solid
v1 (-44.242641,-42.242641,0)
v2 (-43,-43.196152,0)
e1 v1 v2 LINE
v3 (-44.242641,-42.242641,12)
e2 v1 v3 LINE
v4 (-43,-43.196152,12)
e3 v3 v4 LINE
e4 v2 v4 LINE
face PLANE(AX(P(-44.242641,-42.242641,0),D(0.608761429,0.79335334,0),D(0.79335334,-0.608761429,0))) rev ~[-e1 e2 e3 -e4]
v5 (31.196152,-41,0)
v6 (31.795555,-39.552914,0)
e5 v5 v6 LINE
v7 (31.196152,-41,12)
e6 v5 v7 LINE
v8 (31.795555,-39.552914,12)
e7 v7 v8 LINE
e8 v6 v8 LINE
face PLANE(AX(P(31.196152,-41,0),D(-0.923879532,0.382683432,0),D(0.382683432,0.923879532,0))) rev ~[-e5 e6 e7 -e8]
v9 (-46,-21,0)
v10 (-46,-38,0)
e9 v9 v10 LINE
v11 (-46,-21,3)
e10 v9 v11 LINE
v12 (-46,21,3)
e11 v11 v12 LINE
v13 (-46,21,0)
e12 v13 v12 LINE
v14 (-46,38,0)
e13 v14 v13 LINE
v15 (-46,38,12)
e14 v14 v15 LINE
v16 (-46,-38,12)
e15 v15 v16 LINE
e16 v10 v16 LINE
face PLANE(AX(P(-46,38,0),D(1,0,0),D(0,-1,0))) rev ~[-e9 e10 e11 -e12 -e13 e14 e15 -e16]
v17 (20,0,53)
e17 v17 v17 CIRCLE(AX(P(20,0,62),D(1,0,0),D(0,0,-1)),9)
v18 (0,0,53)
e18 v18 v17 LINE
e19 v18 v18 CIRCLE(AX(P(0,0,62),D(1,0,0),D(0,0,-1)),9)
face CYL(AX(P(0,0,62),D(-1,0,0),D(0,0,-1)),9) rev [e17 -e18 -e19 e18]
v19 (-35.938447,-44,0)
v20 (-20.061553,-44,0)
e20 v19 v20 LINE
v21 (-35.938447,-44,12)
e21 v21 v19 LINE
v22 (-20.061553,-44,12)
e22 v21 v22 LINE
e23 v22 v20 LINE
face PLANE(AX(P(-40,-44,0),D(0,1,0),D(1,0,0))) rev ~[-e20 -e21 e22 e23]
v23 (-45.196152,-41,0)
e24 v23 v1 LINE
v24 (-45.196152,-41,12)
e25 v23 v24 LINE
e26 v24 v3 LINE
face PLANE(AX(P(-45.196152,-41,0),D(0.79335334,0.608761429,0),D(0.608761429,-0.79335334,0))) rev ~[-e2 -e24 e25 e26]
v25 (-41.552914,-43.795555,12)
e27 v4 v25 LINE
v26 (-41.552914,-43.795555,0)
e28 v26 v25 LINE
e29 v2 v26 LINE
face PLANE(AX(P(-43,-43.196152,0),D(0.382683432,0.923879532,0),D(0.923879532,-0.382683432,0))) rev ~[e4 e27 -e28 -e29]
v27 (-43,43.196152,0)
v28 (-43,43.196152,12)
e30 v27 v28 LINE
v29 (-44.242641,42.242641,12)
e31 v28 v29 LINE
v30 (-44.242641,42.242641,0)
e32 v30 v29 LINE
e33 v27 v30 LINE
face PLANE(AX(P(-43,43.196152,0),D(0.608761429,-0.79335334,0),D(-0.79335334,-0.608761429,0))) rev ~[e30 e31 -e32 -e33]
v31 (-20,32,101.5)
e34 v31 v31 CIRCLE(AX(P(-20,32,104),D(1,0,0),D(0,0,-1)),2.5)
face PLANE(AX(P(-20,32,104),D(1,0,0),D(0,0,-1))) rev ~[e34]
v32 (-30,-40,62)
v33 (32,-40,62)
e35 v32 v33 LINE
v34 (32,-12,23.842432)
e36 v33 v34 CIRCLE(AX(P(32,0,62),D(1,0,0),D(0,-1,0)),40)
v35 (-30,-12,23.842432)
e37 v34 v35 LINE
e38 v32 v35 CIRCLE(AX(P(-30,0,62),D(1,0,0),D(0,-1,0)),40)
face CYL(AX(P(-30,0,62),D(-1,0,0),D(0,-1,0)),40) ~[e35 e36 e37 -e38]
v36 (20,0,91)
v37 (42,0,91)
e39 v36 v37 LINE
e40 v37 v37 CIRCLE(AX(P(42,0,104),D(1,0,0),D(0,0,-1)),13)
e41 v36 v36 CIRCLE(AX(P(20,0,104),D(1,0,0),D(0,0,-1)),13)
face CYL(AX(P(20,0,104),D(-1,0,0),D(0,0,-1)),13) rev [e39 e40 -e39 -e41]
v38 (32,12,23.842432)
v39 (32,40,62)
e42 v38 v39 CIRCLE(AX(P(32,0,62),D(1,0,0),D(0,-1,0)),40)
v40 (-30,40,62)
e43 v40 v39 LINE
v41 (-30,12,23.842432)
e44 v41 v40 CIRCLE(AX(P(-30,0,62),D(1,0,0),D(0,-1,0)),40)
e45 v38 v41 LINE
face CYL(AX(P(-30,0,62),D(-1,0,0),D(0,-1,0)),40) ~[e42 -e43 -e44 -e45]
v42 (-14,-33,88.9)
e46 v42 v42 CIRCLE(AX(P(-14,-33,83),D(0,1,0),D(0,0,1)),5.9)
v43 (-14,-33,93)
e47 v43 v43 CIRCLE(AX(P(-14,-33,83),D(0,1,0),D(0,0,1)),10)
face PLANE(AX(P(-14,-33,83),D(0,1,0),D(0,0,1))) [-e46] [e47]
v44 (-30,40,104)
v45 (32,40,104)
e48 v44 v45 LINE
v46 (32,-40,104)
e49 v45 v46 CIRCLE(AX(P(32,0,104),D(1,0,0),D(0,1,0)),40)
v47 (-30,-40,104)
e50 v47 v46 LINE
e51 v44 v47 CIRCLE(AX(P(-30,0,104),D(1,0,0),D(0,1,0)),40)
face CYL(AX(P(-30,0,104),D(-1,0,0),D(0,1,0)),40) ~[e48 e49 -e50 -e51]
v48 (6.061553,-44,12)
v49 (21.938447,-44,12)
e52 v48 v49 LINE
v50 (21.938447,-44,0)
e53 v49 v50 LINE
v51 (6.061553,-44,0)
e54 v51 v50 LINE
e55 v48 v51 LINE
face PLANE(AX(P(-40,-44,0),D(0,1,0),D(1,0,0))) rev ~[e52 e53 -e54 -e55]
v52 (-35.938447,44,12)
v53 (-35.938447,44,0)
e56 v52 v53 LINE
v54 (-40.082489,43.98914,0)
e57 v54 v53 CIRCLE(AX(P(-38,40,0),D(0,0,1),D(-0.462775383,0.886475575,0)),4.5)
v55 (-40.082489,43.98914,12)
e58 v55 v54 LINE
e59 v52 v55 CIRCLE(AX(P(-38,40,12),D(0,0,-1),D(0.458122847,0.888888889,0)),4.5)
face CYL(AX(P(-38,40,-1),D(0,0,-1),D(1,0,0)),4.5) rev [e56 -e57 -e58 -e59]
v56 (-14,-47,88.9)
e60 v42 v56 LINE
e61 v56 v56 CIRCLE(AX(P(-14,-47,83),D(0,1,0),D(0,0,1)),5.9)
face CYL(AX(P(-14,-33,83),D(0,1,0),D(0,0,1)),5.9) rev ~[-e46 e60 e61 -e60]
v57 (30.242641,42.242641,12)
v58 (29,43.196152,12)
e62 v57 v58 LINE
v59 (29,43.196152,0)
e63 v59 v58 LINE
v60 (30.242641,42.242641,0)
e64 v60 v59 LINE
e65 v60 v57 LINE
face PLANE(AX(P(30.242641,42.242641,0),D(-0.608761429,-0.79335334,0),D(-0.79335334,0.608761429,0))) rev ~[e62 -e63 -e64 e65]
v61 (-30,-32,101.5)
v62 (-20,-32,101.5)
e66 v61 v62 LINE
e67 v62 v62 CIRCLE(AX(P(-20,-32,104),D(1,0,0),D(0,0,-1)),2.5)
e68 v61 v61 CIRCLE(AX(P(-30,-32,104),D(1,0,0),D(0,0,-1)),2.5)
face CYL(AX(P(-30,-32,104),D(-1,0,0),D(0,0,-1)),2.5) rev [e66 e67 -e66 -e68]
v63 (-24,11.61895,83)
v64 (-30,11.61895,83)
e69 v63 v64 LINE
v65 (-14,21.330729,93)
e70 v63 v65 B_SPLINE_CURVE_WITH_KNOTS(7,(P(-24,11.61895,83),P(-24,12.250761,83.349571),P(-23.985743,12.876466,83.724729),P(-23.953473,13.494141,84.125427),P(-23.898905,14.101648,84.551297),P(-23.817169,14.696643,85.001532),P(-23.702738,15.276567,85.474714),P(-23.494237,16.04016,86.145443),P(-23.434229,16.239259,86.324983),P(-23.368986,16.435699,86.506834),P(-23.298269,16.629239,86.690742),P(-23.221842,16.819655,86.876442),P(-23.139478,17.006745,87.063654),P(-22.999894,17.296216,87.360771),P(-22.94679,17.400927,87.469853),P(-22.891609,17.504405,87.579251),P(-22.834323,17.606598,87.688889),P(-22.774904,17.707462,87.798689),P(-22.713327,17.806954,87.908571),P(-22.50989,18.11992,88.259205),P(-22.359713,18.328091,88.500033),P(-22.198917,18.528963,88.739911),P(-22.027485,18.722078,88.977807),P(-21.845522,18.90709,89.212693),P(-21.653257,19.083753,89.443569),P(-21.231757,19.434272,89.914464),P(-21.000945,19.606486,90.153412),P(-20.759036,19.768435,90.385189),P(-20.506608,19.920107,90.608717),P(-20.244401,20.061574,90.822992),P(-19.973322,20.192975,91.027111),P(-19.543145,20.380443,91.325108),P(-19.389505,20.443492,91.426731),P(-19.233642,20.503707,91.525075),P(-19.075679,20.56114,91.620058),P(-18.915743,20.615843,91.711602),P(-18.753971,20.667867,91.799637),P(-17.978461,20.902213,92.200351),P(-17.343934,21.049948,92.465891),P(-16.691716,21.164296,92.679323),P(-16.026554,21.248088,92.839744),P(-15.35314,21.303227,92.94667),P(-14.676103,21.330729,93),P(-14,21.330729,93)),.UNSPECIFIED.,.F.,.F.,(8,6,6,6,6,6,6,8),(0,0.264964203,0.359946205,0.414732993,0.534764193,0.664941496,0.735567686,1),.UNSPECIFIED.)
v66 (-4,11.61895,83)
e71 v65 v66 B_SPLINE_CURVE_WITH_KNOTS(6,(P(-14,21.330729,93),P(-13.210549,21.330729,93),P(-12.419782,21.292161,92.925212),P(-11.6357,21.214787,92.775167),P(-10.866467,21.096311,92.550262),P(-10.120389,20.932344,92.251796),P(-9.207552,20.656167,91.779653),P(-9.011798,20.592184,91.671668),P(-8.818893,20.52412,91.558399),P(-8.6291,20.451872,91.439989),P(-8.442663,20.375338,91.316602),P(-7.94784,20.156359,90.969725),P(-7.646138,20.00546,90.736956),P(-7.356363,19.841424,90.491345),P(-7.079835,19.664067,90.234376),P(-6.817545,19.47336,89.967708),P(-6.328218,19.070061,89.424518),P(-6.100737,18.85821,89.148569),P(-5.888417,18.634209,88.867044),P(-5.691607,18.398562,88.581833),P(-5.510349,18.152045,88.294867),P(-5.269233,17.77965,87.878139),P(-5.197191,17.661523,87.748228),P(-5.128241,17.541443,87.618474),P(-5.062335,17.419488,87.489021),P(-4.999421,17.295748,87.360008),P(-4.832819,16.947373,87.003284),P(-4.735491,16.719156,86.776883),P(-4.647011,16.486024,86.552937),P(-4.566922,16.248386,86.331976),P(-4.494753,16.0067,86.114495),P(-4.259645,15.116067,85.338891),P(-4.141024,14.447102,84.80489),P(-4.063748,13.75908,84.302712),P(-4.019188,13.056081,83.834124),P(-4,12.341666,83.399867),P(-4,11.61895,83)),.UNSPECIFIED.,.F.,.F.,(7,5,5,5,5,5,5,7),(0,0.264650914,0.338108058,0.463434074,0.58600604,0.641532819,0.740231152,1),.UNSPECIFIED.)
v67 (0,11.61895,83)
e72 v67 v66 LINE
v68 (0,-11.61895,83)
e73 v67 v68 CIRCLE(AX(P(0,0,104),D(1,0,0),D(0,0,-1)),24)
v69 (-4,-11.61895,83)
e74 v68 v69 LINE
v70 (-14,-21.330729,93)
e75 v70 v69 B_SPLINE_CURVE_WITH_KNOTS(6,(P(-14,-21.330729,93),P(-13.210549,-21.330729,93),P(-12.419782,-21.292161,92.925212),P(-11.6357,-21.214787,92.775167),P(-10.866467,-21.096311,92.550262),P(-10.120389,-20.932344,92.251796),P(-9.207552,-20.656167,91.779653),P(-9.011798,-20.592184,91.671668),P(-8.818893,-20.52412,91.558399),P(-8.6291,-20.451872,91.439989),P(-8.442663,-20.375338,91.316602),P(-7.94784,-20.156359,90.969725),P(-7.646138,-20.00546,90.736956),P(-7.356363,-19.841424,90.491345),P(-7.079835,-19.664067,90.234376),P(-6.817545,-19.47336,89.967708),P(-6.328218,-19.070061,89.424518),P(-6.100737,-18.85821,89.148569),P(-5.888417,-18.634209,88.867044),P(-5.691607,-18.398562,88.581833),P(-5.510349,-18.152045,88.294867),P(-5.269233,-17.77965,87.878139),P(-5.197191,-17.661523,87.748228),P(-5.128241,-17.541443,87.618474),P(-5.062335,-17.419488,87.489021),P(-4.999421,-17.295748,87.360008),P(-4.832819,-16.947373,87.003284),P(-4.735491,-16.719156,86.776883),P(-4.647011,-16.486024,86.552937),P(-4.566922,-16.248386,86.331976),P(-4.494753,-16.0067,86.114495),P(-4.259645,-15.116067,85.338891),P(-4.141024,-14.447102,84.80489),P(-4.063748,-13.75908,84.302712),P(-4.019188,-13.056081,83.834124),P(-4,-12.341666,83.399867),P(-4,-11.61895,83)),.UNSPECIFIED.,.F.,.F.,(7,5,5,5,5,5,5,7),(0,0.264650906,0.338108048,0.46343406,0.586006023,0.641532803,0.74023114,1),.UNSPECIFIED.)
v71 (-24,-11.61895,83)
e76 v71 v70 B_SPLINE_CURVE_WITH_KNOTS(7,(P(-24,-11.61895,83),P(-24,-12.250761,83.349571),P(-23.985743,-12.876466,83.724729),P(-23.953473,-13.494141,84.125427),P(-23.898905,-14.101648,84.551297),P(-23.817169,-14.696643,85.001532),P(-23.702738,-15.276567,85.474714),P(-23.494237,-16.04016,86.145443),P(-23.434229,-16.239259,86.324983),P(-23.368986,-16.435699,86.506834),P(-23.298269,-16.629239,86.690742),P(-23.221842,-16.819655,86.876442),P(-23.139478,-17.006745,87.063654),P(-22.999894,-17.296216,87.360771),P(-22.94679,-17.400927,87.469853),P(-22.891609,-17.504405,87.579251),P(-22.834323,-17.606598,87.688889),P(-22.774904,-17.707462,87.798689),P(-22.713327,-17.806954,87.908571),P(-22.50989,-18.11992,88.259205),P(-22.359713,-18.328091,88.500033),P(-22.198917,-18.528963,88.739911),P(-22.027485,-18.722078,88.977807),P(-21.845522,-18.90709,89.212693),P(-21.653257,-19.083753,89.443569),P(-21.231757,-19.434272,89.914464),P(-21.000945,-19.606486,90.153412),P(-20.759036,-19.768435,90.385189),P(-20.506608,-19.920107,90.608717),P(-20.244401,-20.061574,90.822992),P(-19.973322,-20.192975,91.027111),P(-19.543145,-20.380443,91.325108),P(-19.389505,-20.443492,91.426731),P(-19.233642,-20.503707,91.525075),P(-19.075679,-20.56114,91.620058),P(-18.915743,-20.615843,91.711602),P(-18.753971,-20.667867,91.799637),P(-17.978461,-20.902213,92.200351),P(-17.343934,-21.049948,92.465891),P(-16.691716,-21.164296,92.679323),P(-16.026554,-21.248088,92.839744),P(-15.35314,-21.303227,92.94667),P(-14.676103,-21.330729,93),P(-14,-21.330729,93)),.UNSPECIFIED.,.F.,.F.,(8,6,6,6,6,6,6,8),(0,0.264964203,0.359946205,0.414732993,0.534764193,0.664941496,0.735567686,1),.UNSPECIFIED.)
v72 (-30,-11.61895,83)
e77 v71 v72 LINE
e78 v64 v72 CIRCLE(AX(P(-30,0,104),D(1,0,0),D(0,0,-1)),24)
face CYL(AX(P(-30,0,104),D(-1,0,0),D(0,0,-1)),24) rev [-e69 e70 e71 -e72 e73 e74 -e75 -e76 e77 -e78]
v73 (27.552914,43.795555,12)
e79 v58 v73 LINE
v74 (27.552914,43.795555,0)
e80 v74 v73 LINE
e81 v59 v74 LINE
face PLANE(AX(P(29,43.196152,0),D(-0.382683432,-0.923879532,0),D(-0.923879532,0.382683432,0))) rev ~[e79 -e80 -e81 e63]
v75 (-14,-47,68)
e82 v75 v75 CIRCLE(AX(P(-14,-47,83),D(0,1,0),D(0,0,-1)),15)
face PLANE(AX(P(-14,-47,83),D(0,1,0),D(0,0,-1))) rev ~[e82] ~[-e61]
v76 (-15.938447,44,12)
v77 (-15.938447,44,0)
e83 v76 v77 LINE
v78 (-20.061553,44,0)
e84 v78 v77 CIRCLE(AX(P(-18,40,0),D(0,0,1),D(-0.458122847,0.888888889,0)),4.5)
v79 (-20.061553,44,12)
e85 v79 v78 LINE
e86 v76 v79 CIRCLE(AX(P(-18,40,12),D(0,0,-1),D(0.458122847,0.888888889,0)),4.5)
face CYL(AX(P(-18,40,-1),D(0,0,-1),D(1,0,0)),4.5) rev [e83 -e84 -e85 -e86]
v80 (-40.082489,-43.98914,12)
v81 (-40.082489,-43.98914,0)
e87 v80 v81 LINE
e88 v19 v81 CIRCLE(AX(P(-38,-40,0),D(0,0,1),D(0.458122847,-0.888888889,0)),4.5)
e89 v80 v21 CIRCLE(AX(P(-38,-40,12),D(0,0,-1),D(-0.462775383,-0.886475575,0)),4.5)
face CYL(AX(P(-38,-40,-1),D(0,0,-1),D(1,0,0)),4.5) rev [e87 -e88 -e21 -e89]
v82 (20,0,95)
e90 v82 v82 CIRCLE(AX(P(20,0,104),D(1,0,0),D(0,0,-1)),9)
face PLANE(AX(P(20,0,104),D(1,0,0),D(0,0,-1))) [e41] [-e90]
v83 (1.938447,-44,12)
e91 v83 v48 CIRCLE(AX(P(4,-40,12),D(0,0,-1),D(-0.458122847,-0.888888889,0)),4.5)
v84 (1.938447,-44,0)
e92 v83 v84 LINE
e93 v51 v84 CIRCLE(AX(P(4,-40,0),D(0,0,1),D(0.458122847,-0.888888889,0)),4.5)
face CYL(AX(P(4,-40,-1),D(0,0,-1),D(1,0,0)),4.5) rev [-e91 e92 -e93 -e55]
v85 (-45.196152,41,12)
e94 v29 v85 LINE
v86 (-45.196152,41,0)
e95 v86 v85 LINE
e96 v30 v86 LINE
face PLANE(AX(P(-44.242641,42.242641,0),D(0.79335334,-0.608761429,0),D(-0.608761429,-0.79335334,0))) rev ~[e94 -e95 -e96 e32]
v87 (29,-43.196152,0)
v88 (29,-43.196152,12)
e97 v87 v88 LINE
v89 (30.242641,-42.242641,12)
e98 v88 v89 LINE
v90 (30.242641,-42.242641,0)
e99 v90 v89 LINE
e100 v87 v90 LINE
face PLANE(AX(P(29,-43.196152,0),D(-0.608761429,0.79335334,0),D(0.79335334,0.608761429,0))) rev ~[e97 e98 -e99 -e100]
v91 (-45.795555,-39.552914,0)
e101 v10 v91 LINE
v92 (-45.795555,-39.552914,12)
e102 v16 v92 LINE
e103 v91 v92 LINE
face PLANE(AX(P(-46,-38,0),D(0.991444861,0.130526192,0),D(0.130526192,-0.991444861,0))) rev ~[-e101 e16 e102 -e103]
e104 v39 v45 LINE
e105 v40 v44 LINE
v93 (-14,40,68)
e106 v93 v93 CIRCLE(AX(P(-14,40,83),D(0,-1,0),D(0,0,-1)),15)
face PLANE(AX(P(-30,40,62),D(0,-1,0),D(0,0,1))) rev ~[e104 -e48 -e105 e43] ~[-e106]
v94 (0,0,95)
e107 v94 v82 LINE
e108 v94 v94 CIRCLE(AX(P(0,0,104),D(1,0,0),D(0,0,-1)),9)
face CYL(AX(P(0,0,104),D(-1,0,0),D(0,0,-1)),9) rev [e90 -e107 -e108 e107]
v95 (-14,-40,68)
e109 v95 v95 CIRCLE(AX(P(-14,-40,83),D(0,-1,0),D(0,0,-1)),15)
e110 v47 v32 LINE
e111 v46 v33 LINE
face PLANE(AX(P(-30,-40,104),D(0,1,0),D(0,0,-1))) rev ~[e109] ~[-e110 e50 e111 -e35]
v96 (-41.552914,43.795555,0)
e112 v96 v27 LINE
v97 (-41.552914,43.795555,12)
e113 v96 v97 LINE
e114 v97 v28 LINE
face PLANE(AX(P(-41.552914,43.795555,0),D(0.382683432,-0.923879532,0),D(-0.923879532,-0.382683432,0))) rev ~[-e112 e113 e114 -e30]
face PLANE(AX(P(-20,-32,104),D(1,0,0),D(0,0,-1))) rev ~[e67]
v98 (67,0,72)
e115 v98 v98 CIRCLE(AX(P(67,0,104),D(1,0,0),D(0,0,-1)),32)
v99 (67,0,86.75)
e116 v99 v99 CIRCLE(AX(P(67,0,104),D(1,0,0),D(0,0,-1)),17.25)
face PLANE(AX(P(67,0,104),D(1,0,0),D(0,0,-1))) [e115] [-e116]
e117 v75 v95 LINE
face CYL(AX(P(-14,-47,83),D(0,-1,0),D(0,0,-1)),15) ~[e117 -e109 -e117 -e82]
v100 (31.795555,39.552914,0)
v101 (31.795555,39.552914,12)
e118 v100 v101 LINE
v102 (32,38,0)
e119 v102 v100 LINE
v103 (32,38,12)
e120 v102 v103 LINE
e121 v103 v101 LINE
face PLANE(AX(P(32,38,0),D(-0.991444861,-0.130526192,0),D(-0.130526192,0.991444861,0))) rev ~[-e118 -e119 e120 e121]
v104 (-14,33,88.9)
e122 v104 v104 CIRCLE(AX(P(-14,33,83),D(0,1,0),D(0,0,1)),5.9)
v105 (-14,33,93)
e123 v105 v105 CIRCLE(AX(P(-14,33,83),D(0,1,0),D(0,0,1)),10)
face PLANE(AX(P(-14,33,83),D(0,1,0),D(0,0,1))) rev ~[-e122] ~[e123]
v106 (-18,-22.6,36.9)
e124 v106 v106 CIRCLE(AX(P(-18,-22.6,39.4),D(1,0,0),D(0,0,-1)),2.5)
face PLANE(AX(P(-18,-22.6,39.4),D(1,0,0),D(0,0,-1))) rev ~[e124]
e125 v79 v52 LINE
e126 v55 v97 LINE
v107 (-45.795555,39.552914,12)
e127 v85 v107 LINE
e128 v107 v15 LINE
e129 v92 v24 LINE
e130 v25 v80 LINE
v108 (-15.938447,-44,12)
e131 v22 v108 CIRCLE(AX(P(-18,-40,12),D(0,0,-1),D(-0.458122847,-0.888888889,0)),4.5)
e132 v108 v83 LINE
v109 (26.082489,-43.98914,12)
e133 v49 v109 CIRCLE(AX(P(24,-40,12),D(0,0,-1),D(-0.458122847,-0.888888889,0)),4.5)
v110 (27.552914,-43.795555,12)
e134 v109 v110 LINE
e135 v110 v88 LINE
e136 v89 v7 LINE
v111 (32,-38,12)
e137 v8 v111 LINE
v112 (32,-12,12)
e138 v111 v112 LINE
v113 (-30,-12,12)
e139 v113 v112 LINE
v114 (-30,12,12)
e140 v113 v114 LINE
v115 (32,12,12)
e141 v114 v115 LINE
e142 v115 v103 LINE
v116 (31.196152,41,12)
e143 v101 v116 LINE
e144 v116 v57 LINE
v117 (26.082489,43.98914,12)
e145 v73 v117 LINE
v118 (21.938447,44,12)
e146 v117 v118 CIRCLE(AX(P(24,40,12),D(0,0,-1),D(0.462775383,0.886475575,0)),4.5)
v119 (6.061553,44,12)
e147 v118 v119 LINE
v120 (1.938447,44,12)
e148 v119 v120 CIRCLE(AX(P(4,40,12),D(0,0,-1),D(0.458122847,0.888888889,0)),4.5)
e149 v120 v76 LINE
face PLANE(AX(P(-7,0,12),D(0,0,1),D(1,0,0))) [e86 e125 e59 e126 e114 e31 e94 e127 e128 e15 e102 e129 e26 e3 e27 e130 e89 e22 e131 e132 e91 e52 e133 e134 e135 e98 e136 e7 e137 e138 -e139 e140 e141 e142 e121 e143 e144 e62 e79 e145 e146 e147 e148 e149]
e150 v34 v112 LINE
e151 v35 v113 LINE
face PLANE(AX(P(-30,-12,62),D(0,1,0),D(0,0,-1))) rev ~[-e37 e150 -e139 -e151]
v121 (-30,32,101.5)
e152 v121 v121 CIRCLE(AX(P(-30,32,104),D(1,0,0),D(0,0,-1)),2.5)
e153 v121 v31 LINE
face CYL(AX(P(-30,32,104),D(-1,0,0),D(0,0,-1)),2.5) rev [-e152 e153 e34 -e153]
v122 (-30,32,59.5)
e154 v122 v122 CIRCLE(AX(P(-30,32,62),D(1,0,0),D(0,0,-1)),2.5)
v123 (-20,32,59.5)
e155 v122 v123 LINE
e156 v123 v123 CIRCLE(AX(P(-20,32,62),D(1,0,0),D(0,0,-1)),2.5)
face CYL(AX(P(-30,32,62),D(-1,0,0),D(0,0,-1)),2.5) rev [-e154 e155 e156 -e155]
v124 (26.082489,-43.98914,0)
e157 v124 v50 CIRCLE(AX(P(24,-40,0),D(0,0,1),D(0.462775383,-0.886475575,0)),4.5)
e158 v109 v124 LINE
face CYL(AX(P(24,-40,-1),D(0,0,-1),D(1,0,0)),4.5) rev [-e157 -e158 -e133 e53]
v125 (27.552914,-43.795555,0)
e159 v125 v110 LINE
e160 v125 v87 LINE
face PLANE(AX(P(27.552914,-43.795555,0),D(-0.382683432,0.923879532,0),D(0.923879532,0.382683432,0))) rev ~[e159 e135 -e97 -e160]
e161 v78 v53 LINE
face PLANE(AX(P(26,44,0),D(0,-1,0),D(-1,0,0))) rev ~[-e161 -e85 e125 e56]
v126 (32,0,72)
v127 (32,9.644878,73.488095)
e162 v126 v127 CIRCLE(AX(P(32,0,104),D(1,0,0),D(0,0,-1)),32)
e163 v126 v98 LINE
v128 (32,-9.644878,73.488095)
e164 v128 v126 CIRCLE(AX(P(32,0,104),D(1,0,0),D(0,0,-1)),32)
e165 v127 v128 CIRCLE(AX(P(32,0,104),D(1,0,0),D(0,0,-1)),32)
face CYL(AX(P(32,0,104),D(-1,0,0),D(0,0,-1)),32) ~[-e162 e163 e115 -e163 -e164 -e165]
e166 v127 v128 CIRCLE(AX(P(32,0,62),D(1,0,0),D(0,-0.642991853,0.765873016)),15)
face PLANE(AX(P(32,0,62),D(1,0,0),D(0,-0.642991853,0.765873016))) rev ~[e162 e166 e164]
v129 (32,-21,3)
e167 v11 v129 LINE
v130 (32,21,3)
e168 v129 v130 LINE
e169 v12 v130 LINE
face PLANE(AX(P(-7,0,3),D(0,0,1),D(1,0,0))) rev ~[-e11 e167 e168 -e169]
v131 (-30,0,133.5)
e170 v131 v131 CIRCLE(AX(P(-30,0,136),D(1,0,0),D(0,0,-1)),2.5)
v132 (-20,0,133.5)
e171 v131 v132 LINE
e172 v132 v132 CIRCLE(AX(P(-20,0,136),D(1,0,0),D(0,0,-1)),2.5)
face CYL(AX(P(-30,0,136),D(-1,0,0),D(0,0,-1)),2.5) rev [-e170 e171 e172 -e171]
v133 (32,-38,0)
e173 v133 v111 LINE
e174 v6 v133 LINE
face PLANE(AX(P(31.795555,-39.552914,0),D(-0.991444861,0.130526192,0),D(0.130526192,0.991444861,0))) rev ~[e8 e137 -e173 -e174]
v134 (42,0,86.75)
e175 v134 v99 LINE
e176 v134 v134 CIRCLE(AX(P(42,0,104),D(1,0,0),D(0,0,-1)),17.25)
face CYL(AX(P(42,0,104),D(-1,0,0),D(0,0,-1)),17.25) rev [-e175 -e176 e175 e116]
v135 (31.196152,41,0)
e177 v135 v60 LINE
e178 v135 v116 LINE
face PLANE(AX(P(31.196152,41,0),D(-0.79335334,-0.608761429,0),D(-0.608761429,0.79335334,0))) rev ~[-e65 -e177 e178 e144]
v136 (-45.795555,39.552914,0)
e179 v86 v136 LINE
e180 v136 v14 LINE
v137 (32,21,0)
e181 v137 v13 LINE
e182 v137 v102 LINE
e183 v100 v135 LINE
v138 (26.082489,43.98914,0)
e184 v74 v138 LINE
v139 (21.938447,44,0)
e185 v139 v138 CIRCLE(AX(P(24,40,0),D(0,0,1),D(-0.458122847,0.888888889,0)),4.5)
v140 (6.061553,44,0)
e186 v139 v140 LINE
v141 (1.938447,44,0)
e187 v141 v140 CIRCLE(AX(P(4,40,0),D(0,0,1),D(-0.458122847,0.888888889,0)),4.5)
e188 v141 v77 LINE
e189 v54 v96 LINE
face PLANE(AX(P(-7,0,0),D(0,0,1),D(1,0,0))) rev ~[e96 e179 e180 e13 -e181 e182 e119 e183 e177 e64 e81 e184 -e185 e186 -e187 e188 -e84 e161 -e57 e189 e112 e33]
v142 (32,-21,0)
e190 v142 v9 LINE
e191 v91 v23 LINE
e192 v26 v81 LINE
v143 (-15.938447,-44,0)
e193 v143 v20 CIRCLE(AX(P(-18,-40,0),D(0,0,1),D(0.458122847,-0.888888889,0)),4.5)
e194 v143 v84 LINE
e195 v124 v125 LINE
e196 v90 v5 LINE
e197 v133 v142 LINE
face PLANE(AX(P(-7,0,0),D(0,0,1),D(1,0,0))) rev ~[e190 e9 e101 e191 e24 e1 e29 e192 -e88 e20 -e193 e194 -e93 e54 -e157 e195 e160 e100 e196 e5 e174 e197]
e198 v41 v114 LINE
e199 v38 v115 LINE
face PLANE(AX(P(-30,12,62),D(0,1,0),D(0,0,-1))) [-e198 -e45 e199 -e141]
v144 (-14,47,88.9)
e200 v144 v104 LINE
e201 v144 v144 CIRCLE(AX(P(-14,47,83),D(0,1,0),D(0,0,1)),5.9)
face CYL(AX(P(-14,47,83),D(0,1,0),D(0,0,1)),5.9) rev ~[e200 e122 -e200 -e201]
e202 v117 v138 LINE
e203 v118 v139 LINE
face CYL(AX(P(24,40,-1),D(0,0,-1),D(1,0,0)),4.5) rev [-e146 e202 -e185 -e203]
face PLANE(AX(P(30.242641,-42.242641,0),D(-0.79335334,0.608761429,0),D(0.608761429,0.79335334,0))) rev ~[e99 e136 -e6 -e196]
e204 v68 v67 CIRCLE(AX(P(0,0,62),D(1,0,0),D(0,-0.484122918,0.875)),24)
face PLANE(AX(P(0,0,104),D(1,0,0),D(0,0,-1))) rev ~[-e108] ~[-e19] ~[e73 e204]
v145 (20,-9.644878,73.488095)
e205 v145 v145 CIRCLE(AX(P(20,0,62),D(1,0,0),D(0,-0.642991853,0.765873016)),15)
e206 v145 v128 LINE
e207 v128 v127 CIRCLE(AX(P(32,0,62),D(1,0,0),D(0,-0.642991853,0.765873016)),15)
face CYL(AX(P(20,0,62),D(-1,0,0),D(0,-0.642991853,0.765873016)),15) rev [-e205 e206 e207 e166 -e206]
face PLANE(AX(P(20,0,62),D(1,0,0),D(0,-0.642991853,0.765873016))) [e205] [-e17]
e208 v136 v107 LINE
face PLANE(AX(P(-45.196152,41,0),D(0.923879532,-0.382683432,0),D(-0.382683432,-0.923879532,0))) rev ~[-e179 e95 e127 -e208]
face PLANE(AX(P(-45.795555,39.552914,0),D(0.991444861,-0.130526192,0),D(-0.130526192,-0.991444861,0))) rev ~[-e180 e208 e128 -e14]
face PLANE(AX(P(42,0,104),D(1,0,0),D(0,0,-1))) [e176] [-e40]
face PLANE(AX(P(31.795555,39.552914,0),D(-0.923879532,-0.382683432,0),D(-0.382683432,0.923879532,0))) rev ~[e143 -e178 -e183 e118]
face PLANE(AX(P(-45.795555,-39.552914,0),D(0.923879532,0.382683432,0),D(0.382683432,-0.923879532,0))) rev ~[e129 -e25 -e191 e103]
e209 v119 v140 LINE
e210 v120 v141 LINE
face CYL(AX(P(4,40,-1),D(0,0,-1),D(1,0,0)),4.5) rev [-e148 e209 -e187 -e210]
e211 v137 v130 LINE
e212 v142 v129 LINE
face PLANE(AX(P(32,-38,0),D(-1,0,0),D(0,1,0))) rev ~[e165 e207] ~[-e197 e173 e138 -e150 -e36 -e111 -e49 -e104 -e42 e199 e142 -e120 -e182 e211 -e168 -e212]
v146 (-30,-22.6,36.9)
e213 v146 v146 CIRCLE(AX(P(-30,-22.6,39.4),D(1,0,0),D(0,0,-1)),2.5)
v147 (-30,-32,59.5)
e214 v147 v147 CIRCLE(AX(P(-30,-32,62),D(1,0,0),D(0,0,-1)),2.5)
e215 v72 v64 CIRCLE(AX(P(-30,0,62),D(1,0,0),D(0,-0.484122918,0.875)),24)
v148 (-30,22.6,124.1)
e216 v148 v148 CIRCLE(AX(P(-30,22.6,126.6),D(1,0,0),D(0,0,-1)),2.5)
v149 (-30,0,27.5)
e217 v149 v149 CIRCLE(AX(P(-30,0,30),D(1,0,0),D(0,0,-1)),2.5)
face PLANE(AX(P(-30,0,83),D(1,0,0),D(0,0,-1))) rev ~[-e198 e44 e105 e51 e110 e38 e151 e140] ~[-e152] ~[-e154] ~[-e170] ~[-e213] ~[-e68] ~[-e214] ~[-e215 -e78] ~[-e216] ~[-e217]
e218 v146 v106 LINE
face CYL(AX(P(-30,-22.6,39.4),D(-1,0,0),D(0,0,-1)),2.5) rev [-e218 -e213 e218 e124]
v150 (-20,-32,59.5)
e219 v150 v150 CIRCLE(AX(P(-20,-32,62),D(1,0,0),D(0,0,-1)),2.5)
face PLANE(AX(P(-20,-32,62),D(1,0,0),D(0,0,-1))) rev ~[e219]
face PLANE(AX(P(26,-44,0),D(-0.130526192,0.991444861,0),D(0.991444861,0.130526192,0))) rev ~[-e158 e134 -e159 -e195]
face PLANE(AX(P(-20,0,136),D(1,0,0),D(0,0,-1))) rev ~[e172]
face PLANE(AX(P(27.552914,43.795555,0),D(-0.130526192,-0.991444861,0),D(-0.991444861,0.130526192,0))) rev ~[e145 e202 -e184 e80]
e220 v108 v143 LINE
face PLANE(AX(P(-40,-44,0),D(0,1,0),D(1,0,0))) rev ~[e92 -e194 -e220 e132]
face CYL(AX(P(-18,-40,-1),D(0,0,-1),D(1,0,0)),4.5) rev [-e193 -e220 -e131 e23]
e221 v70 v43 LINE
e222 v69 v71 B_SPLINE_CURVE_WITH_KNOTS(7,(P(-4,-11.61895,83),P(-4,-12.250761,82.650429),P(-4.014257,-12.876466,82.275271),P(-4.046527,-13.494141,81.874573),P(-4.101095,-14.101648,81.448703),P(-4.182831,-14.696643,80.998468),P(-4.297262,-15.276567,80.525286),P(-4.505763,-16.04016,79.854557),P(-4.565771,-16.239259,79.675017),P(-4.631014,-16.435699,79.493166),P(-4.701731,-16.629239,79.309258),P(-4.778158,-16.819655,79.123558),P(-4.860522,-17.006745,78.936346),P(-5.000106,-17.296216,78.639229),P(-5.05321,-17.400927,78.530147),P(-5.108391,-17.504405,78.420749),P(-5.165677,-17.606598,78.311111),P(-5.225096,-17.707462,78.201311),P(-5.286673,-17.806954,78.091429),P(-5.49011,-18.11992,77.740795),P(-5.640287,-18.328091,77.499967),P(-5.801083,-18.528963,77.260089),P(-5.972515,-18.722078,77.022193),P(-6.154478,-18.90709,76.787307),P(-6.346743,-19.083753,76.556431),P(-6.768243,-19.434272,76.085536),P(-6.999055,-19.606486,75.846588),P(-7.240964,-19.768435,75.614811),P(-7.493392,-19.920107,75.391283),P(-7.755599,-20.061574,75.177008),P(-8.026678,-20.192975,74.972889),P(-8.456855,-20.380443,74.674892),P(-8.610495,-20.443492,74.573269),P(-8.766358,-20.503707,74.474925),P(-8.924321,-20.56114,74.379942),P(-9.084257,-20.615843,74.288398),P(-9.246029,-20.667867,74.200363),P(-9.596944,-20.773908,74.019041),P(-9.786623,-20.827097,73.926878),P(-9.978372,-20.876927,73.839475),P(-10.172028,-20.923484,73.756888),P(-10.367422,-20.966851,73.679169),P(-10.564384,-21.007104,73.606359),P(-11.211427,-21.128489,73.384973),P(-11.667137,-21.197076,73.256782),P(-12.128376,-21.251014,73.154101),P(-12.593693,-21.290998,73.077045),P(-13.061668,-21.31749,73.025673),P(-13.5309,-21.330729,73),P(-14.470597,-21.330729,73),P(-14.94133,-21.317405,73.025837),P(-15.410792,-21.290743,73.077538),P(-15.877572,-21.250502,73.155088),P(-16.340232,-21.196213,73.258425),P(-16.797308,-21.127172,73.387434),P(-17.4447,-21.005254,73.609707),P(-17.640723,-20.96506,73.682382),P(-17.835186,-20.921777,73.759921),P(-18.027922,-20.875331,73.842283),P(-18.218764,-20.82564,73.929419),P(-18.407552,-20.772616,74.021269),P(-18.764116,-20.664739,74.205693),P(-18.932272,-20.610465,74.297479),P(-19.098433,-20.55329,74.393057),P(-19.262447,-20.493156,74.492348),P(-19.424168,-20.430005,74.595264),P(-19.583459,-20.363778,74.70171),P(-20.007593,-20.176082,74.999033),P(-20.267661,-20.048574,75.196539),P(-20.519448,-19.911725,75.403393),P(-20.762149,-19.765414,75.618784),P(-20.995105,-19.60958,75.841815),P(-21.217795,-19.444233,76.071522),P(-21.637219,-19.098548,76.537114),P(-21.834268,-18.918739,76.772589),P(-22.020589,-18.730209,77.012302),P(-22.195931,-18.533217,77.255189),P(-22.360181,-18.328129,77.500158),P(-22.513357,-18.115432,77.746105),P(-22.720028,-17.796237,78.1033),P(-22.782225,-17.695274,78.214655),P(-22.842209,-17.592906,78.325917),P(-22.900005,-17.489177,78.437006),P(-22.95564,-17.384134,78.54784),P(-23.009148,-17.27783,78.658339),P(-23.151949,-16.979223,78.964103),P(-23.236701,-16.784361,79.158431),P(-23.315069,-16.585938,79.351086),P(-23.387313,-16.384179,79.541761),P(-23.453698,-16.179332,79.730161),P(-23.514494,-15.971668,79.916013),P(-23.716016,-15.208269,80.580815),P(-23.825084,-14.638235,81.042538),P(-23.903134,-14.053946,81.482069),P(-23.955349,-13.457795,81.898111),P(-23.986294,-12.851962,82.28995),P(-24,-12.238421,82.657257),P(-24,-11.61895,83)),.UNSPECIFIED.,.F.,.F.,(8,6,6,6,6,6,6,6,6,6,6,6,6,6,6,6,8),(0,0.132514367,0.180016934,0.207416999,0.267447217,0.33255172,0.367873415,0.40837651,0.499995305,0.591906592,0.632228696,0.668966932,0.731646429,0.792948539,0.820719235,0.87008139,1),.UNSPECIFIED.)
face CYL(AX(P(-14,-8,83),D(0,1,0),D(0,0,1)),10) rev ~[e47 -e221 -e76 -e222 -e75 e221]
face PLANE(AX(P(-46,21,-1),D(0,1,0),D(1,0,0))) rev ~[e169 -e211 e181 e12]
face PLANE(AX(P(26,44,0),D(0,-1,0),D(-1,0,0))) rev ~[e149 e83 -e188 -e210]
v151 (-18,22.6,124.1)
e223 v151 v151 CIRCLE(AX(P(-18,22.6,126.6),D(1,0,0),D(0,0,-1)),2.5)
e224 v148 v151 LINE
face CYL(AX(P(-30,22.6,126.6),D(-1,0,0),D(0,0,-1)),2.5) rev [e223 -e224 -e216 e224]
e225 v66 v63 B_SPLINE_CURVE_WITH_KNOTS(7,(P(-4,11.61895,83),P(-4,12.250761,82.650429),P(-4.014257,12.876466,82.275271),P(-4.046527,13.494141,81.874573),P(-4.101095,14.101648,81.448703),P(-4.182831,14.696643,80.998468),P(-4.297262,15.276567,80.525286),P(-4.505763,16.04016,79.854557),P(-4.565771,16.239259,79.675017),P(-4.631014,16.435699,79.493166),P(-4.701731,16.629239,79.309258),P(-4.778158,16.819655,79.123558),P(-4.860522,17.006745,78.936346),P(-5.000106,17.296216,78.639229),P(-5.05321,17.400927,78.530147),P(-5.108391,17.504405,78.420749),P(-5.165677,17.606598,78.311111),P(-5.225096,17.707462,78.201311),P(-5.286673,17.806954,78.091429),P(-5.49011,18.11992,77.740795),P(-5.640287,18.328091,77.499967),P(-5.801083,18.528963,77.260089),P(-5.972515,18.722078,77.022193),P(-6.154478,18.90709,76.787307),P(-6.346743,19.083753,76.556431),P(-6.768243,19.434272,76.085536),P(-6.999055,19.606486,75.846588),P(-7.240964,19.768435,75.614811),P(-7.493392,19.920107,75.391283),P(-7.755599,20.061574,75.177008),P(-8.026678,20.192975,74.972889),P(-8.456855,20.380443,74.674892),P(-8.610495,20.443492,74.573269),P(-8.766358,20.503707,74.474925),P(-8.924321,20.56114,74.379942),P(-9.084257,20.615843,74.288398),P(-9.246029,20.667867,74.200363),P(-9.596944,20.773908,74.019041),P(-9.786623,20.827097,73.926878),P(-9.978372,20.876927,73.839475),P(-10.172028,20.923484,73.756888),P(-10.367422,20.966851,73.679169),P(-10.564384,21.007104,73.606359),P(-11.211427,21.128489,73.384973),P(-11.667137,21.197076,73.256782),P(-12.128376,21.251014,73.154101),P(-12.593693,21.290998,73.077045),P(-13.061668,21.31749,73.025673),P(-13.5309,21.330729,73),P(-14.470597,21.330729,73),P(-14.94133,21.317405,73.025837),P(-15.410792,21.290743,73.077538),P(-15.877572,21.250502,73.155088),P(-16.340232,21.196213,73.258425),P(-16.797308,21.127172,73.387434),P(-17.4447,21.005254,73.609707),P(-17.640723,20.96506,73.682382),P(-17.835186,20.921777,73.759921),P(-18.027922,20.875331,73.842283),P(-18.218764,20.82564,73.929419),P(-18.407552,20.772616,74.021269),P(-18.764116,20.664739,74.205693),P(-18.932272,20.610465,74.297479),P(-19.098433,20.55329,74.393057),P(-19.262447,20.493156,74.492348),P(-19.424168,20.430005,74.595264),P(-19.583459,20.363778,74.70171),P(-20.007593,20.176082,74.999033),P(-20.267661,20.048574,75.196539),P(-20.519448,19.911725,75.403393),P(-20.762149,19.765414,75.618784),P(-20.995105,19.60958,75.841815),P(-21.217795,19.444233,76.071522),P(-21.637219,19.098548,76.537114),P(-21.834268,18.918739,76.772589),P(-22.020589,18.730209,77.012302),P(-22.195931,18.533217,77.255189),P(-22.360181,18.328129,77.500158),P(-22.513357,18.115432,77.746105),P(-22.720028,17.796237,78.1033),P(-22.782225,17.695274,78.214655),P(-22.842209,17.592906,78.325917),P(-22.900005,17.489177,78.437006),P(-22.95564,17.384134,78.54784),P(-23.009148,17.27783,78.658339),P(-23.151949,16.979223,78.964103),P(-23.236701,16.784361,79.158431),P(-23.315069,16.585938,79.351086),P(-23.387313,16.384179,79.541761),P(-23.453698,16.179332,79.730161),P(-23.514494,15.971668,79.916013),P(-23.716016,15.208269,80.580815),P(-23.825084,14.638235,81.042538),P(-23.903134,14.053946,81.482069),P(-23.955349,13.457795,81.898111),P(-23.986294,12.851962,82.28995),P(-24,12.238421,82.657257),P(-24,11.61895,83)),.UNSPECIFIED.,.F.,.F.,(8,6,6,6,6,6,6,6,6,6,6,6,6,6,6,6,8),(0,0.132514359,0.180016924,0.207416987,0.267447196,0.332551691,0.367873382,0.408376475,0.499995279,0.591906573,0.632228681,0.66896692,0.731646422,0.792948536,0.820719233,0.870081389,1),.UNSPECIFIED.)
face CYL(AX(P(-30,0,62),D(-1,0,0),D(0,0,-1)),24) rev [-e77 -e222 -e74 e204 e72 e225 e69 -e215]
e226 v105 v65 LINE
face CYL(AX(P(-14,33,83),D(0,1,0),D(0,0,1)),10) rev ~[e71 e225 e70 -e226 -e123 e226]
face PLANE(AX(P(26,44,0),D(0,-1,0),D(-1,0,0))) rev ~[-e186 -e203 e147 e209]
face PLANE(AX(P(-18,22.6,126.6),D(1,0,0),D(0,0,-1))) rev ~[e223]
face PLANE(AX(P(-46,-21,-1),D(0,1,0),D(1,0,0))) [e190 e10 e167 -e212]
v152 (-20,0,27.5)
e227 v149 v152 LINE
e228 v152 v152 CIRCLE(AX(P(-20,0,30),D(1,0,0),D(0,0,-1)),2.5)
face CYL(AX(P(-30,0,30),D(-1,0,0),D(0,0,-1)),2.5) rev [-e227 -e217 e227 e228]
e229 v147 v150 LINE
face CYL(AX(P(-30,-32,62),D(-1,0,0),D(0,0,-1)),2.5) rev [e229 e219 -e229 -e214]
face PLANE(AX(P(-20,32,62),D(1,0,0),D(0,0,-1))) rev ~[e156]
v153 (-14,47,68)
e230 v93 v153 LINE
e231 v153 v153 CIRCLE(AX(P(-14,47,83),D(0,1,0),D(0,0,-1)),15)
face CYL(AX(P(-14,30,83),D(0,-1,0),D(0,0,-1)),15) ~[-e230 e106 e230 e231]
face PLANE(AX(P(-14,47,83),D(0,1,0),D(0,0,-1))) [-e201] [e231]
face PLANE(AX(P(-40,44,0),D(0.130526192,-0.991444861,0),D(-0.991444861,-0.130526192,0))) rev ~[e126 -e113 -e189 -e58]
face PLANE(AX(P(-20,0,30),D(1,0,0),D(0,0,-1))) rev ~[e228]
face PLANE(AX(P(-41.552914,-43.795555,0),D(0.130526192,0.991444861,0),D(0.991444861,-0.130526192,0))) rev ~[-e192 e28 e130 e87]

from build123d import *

# Parameters (mm, degrees)
F_01_HOUSING_DEPTH        = 62
SKETCH_2_W                = 50
SKETCH_2_H                = 24
F_02_COLUMN_DEPTH         = 62
F_03_BASE_DEPTH           = 12
SKETCH_4_R                = 32
F_04_SBOX_DEPTH           = 35
SKETCH_5_R                = 24
F_05_CAV_UP_DEPTH         = 30
SKETCH_6_R                = 9
F_06_BRG_UP_DEPTH         = 20
SKETCH_7_R                = 13
F_07_PACK_UP_DEPTH        = 22
SKETCH_8_R                = 17.25
F_08_M36_UP_DEPTH         = 25
SKETCH_9_R                = 24
F_09_CAV_LO_DEPTH         = 30
SKETCH_10_R               = 9
F_10_BRG_LO_DEPTH         = 20
SKETCH_11_R               = 15
F_11_RECESS_LO_DEPTH      = 12
SKETCH_12_R               = 15
F_12_PORTBOSS_P_DEPTH     = 17
SKETCH_13_R               = 10
F_13_PASS_P_DEPTH         = 25
SKETCH_14_R               = 5.9
F_14_G14_P_DEPTH          = 14
F_12_PORTBOSS_N_START     = -17
SKETCH_15_R               = 15
F_12_PORTBOSS_N_DEPTH     = 17
F_13_PASS_N_START         = 25
SKETCH_16_R               = 10
F_13_PASS_N_DEPTH         = 25
F_14_G14_N_START          = 14
SKETCH_17_R               = 5.9
F_14_G14_N_DEPTH          = 14
SKETCH_18_R               = 2.5
CUT_EXTRUDE_15_M6_0_DEPTH = 10
SKETCH_19_R               = 2.5
CUT_EXTRUDE_15_M6_1_DEPTH = 10
SKETCH_20_R               = 2.5
CUT_EXTRUDE_15_M6_2_DEPTH = 10
SKETCH_21_R               = 2.5
CUT_EXTRUDE_15_M6_3_DEPTH = 10
SKETCH_22_R               = 2.5
CUT_EXTRUDE_15_M6_4_DEPTH = 10
SKETCH_23_R               = 2.5
CUT_EXTRUDE_15_M6_5_DEPTH = 10
SKETCH_24_R               = 2.5
F_16_DOWEL_0_DEPTH        = 12
SKETCH_25_R               = 2.5
F_16_DOWEL_1_DEPTH        = 12
SKETCH_26_R               = 4.5
F_17_BH_00_DEPTH          = 14
SKETCH_27_R               = 4.5
F_17_BH_01_DEPTH          = 14
SKETCH_28_R               = 4.5
F_17_BH_10_DEPTH          = 14
SKETCH_29_R               = 4.5
F_17_BH_11_DEPTH          = 14
SKETCH_30_R               = 4.5
F_17_BH_20_DEPTH          = 14
SKETCH_31_R               = 4.5
F_17_BH_21_DEPTH          = 14
SKETCH_32_R               = 4.5
F_17_BH_30_DEPTH          = 14
SKETCH_33_R               = 4.5
F_17_BH_31_DEPTH          = 14
SKETCH_34_W               = 78
SKETCH_34_H               = 42
F_18_RELIEF_DEPTH         = 4


with BuildPart() as part:
    # 草图1 → 01_HOUSING (new body)
    with BuildSketch(Plane(origin=(-30, 0, 0), x_dir=(0, 0, -1), z_dir=(1, 0, 0))):
        with BuildLine():
            Line((-104, -40), (-62, -40))
            ThreePointArc((-62, -40), (-22, 0), (-62, 40))
            Line((-62, 40), (-104, 40))
            ThreePointArc((-104, 40), (-144, 0), (-104, -40))
        make_face()
    extrude(amount=F_01_HOUSING_DEPTH)

    # 草图2 → 02_COLUMN (add)
    with BuildSketch(Plane(origin=(-30, 0, 0), x_dir=(0, 0, -1), z_dir=(1, 0, 0))):
        with Locations((-37, 0)):
            Rectangle(SKETCH_2_W, SKETCH_2_H)
    extrude(amount=F_02_COLUMN_DEPTH)

    # 草图3 → 03_BASE (add)
    with BuildSketch(Plane.XY):
        Polygon((26, -44), (27.552914271, -43.795554958), (29, -43.196152423), (30.242640687, -42.242640687), (31.196152423, -41), (31.795554958, -39.552914271), (32, -38), (32, 38), (31.795554958, 39.552914271), (31.196152423, 41), (30.242640687, 42.242640687), (29, 43.196152423), (27.552914271, 43.795554958), (26, 44), (-40, 44), (-41.552914271, 43.795554958), (-43, 43.196152423), (-44.242640687, 42.242640687), (-45.196152423, 41), (-45.795554958, 39.552914271), (-46, 38), (-46, -38), (-45.795554958, -39.552914271), (-45.196152423, -41), (-44.242640687, -42.242640687), (-43, -43.196152423), (-41.552914271, -43.795554958), (-40, -44), align=None)
    extrude(amount=F_03_BASE_DEPTH)

    # 草图4 → 04_SBOX (add)
    with BuildSketch(Plane(origin=(32, 0, 0), x_dir=(0, 0, -1), z_dir=(1, 0, 0))):
        with Locations((-104, 0)):
            Circle(SKETCH_4_R)
    extrude(amount=F_04_SBOX_DEPTH)

    # 草图5 → 05_CAV_UP (cut)
    with BuildSketch(Plane(origin=(-30, 0, 0), x_dir=(0, 0, -1), z_dir=(1, 0, 0))):
        with Locations((-104, 0)):
            Circle(SKETCH_5_R)
    extrude(amount=F_05_CAV_UP_DEPTH, mode=Mode.SUBTRACT)

    # 草图6 → 06_BRG_UP (cut)
    with BuildSketch(Plane(origin=(0, 0, 0), x_dir=(0, 0, -1), z_dir=(1, 0, 0))):
        with Locations((-104, 0)):
            Circle(SKETCH_6_R)
    extrude(amount=F_06_BRG_UP_DEPTH, mode=Mode.SUBTRACT)

    # 草图7 → 07_PACK_UP (cut)
    with BuildSketch(Plane(origin=(20, 0, 0), x_dir=(0, 0, -1), z_dir=(1, 0, 0))):
        with Locations((-104, 0)):
            Circle(SKETCH_7_R)
    extrude(amount=F_07_PACK_UP_DEPTH, mode=Mode.SUBTRACT)

    # 草图8 → 08_M36_UP (cut)
    with BuildSketch(Plane(origin=(42, 0, 0), x_dir=(0, 0, -1), z_dir=(1, 0, 0))):
        with Locations((-104, 0)):
            Circle(SKETCH_8_R)
    extrude(amount=F_08_M36_UP_DEPTH, mode=Mode.SUBTRACT)

    # 草图9 → 09_CAV_LO (cut)
    with BuildSketch(Plane(origin=(-30, 0, 0), x_dir=(0, 0, -1), z_dir=(1, 0, 0))):
        with Locations((-62, 0)):
            Circle(SKETCH_9_R)
    extrude(amount=F_09_CAV_LO_DEPTH, mode=Mode.SUBTRACT)

    # 草图10 → 10_BRG_LO (cut)
    with BuildSketch(Plane(origin=(0, 0, 0), x_dir=(0, 0, -1), z_dir=(1, 0, 0))):
        with Locations((-62, 0)):
            Circle(SKETCH_10_R)
    extrude(amount=F_10_BRG_LO_DEPTH, mode=Mode.SUBTRACT)

    # 草图11 → 11_RECESS_LO (cut)
    with BuildSketch(Plane(origin=(20, 0, 0), x_dir=(0, 0, -1), z_dir=(1, 0, 0))):
        with Locations((-62, 0)):
            Circle(SKETCH_11_R)
    extrude(amount=F_11_RECESS_LO_DEPTH, mode=Mode.SUBTRACT)

    # 草图12 → 12_PORTBOSS_P (add)
    with BuildSketch(Plane(origin=(0, 30, 0), x_dir=(1, 0, 0), z_dir=(0, 1, 0))):
        with Locations((-14, -83)):
            Circle(SKETCH_12_R)
    extrude(amount=F_12_PORTBOSS_P_DEPTH)

    # 草图13 → 13_PASS_P (cut)
    with BuildSketch(Plane(origin=(0, 33, 0), x_dir=(1, 0, 0), z_dir=(0, 1, 0))):
        with Locations((-14, -83)):
            Circle(SKETCH_13_R)
    extrude(amount=-F_13_PASS_P_DEPTH, mode=Mode.SUBTRACT)

    # 草图14 → 14_G14_P (cut)
    with BuildSketch(Plane(origin=(0, 47, 0), x_dir=(1, 0, 0), z_dir=(0, 1, 0))):
        with Locations((-14, -83)):
            Circle(SKETCH_14_R)
    extrude(amount=-F_14_G14_P_DEPTH, mode=Mode.SUBTRACT)

    # 草图15 → 12_PORTBOSS_N (add)
    with BuildSketch(Plane(origin=(0, -30, 0), x_dir=(1, 0, 0), z_dir=(0, 1, 0)).offset(F_12_PORTBOSS_N_START)):
        with Locations((-14, -83)):
            Circle(SKETCH_15_R)
    extrude(amount=F_12_PORTBOSS_N_DEPTH)

    # 草图16 → 13_PASS_N (cut)
    with BuildSketch(Plane(origin=(0, -33, 0), x_dir=(1, 0, 0), z_dir=(0, 1, 0)).offset(F_13_PASS_N_START)):
        with Locations((-14, -83)):
            Circle(SKETCH_16_R)
    extrude(amount=-F_13_PASS_N_DEPTH, mode=Mode.SUBTRACT)

    # 草图17 → 14_G14_N (cut)
    with BuildSketch(Plane(origin=(0, -47, 0), x_dir=(1, 0, 0), z_dir=(0, 1, 0)).offset(F_14_G14_N_START)):
        with Locations((-14, -83)):
            Circle(SKETCH_17_R)
    extrude(amount=-F_14_G14_N_DEPTH, mode=Mode.SUBTRACT)

    # 草图18 → 15_M6_0 (cut)
    with BuildSketch(Plane(origin=(-30, 0, 0), x_dir=(0, 0, -1), z_dir=(1, 0, 0))):
        with Locations((-104, 32)):
            Circle(SKETCH_18_R)
    extrude(amount=CUT_EXTRUDE_15_M6_0_DEPTH, mode=Mode.SUBTRACT)

    # 草图19 → 15_M6_1 (cut)
    with BuildSketch(Plane(origin=(-30, 0, 0), x_dir=(0, 0, -1), z_dir=(1, 0, 0))):
        with Locations((-104, -32)):
            Circle(SKETCH_19_R)
    extrude(amount=CUT_EXTRUDE_15_M6_1_DEPTH, mode=Mode.SUBTRACT)

    # 草图20 → 15_M6_2 (cut)
    with BuildSketch(Plane(origin=(-30, 0, 0), x_dir=(0, 0, -1), z_dir=(1, 0, 0))):
        with Locations((-62, 32)):
            Circle(SKETCH_20_R)
    extrude(amount=CUT_EXTRUDE_15_M6_2_DEPTH, mode=Mode.SUBTRACT)

    # 草图21 → 15_M6_3 (cut)
    with BuildSketch(Plane(origin=(-30, 0, 0), x_dir=(0, 0, -1), z_dir=(1, 0, 0))):
        with Locations((-62, -32)):
            Circle(SKETCH_21_R)
    extrude(amount=CUT_EXTRUDE_15_M6_3_DEPTH, mode=Mode.SUBTRACT)

    # 草图22 → 15_M6_4 (cut)
    with BuildSketch(Plane(origin=(-30, 0, 0), x_dir=(0, 0, -1), z_dir=(1, 0, 0))):
        with Locations((-136, 0)):
            Circle(SKETCH_22_R)
    extrude(amount=CUT_EXTRUDE_15_M6_4_DEPTH, mode=Mode.SUBTRACT)

    # 草图23 → 15_M6_5 (cut)
    with BuildSketch(Plane(origin=(-30, 0, 0), x_dir=(0, 0, -1), z_dir=(1, 0, 0))):
        with Locations((-30, 0)):
            Circle(SKETCH_23_R)
    extrude(amount=CUT_EXTRUDE_15_M6_5_DEPTH, mode=Mode.SUBTRACT)

    # 草图24 → 16_DOWEL_0 (cut)
    with BuildSketch(Plane(origin=(-30, 0, 0), x_dir=(0, 0, -1), z_dir=(1, 0, 0))):
        with Locations((-126.6, 22.6)):
            Circle(SKETCH_24_R)
    extrude(amount=F_16_DOWEL_0_DEPTH, mode=Mode.SUBTRACT)

    # 草图25 → 16_DOWEL_1 (cut)
    with BuildSketch(Plane(origin=(-30, 0, 0), x_dir=(0, 0, -1), z_dir=(1, 0, 0))):
        with Locations((-39.4, -22.6)):
            Circle(SKETCH_25_R)
    extrude(amount=F_16_DOWEL_1_DEPTH, mode=Mode.SUBTRACT)

    # 草图26 → 17_BH_00 (cut)
    with BuildSketch(Plane.XY.offset(-1)):
        with Locations((-38, 40)):
            Circle(SKETCH_26_R)
    extrude(amount=F_17_BH_00_DEPTH, mode=Mode.SUBTRACT)

    # 草图27 → 17_BH_01 (cut)
    with BuildSketch(Plane.XY.offset(-1)):
        with Locations((-38, -40)):
            Circle(SKETCH_27_R)
    extrude(amount=F_17_BH_01_DEPTH, mode=Mode.SUBTRACT)

    # 草图28 → 17_BH_10 (cut)
    with BuildSketch(Plane.XY.offset(-1)):
        with Locations((-18, 40)):
            Circle(SKETCH_28_R)
    extrude(amount=F_17_BH_10_DEPTH, mode=Mode.SUBTRACT)

    # 草图29 → 17_BH_11 (cut)
    with BuildSketch(Plane.XY.offset(-1)):
        with Locations((-18, -40)):
            Circle(SKETCH_29_R)
    extrude(amount=F_17_BH_11_DEPTH, mode=Mode.SUBTRACT)

    # 草图30 → 17_BH_20 (cut)
    with BuildSketch(Plane.XY.offset(-1)):
        with Locations((4, 40)):
            Circle(SKETCH_30_R)
    extrude(amount=F_17_BH_20_DEPTH, mode=Mode.SUBTRACT)

    # 草图31 → 17_BH_21 (cut)
    with BuildSketch(Plane.XY.offset(-1)):
        with Locations((4, -40)):
            Circle(SKETCH_31_R)
    extrude(amount=F_17_BH_21_DEPTH, mode=Mode.SUBTRACT)

    # 草图32 → 17_BH_30 (cut)
    with BuildSketch(Plane.XY.offset(-1)):
        with Locations((24, 40)):
            Circle(SKETCH_32_R)
    extrude(amount=F_17_BH_30_DEPTH, mode=Mode.SUBTRACT)

    # 草图33 → 17_BH_31 (cut)
    with BuildSketch(Plane.XY.offset(-1)):
        with Locations((24, -40)):
            Circle(SKETCH_33_R)
    extrude(amount=F_17_BH_31_DEPTH, mode=Mode.SUBTRACT)

    # 草图34 → 18_RELIEF (cut)
    with BuildSketch(Plane.XY.offset(-1)):
        with Locations((-7, 0)):
            Rectangle(SKETCH_34_W, SKETCH_34_H)
    extrude(amount=F_18_RELIEF_DEPTH, mode=Mode.SUBTRACT)


solid = part.part
